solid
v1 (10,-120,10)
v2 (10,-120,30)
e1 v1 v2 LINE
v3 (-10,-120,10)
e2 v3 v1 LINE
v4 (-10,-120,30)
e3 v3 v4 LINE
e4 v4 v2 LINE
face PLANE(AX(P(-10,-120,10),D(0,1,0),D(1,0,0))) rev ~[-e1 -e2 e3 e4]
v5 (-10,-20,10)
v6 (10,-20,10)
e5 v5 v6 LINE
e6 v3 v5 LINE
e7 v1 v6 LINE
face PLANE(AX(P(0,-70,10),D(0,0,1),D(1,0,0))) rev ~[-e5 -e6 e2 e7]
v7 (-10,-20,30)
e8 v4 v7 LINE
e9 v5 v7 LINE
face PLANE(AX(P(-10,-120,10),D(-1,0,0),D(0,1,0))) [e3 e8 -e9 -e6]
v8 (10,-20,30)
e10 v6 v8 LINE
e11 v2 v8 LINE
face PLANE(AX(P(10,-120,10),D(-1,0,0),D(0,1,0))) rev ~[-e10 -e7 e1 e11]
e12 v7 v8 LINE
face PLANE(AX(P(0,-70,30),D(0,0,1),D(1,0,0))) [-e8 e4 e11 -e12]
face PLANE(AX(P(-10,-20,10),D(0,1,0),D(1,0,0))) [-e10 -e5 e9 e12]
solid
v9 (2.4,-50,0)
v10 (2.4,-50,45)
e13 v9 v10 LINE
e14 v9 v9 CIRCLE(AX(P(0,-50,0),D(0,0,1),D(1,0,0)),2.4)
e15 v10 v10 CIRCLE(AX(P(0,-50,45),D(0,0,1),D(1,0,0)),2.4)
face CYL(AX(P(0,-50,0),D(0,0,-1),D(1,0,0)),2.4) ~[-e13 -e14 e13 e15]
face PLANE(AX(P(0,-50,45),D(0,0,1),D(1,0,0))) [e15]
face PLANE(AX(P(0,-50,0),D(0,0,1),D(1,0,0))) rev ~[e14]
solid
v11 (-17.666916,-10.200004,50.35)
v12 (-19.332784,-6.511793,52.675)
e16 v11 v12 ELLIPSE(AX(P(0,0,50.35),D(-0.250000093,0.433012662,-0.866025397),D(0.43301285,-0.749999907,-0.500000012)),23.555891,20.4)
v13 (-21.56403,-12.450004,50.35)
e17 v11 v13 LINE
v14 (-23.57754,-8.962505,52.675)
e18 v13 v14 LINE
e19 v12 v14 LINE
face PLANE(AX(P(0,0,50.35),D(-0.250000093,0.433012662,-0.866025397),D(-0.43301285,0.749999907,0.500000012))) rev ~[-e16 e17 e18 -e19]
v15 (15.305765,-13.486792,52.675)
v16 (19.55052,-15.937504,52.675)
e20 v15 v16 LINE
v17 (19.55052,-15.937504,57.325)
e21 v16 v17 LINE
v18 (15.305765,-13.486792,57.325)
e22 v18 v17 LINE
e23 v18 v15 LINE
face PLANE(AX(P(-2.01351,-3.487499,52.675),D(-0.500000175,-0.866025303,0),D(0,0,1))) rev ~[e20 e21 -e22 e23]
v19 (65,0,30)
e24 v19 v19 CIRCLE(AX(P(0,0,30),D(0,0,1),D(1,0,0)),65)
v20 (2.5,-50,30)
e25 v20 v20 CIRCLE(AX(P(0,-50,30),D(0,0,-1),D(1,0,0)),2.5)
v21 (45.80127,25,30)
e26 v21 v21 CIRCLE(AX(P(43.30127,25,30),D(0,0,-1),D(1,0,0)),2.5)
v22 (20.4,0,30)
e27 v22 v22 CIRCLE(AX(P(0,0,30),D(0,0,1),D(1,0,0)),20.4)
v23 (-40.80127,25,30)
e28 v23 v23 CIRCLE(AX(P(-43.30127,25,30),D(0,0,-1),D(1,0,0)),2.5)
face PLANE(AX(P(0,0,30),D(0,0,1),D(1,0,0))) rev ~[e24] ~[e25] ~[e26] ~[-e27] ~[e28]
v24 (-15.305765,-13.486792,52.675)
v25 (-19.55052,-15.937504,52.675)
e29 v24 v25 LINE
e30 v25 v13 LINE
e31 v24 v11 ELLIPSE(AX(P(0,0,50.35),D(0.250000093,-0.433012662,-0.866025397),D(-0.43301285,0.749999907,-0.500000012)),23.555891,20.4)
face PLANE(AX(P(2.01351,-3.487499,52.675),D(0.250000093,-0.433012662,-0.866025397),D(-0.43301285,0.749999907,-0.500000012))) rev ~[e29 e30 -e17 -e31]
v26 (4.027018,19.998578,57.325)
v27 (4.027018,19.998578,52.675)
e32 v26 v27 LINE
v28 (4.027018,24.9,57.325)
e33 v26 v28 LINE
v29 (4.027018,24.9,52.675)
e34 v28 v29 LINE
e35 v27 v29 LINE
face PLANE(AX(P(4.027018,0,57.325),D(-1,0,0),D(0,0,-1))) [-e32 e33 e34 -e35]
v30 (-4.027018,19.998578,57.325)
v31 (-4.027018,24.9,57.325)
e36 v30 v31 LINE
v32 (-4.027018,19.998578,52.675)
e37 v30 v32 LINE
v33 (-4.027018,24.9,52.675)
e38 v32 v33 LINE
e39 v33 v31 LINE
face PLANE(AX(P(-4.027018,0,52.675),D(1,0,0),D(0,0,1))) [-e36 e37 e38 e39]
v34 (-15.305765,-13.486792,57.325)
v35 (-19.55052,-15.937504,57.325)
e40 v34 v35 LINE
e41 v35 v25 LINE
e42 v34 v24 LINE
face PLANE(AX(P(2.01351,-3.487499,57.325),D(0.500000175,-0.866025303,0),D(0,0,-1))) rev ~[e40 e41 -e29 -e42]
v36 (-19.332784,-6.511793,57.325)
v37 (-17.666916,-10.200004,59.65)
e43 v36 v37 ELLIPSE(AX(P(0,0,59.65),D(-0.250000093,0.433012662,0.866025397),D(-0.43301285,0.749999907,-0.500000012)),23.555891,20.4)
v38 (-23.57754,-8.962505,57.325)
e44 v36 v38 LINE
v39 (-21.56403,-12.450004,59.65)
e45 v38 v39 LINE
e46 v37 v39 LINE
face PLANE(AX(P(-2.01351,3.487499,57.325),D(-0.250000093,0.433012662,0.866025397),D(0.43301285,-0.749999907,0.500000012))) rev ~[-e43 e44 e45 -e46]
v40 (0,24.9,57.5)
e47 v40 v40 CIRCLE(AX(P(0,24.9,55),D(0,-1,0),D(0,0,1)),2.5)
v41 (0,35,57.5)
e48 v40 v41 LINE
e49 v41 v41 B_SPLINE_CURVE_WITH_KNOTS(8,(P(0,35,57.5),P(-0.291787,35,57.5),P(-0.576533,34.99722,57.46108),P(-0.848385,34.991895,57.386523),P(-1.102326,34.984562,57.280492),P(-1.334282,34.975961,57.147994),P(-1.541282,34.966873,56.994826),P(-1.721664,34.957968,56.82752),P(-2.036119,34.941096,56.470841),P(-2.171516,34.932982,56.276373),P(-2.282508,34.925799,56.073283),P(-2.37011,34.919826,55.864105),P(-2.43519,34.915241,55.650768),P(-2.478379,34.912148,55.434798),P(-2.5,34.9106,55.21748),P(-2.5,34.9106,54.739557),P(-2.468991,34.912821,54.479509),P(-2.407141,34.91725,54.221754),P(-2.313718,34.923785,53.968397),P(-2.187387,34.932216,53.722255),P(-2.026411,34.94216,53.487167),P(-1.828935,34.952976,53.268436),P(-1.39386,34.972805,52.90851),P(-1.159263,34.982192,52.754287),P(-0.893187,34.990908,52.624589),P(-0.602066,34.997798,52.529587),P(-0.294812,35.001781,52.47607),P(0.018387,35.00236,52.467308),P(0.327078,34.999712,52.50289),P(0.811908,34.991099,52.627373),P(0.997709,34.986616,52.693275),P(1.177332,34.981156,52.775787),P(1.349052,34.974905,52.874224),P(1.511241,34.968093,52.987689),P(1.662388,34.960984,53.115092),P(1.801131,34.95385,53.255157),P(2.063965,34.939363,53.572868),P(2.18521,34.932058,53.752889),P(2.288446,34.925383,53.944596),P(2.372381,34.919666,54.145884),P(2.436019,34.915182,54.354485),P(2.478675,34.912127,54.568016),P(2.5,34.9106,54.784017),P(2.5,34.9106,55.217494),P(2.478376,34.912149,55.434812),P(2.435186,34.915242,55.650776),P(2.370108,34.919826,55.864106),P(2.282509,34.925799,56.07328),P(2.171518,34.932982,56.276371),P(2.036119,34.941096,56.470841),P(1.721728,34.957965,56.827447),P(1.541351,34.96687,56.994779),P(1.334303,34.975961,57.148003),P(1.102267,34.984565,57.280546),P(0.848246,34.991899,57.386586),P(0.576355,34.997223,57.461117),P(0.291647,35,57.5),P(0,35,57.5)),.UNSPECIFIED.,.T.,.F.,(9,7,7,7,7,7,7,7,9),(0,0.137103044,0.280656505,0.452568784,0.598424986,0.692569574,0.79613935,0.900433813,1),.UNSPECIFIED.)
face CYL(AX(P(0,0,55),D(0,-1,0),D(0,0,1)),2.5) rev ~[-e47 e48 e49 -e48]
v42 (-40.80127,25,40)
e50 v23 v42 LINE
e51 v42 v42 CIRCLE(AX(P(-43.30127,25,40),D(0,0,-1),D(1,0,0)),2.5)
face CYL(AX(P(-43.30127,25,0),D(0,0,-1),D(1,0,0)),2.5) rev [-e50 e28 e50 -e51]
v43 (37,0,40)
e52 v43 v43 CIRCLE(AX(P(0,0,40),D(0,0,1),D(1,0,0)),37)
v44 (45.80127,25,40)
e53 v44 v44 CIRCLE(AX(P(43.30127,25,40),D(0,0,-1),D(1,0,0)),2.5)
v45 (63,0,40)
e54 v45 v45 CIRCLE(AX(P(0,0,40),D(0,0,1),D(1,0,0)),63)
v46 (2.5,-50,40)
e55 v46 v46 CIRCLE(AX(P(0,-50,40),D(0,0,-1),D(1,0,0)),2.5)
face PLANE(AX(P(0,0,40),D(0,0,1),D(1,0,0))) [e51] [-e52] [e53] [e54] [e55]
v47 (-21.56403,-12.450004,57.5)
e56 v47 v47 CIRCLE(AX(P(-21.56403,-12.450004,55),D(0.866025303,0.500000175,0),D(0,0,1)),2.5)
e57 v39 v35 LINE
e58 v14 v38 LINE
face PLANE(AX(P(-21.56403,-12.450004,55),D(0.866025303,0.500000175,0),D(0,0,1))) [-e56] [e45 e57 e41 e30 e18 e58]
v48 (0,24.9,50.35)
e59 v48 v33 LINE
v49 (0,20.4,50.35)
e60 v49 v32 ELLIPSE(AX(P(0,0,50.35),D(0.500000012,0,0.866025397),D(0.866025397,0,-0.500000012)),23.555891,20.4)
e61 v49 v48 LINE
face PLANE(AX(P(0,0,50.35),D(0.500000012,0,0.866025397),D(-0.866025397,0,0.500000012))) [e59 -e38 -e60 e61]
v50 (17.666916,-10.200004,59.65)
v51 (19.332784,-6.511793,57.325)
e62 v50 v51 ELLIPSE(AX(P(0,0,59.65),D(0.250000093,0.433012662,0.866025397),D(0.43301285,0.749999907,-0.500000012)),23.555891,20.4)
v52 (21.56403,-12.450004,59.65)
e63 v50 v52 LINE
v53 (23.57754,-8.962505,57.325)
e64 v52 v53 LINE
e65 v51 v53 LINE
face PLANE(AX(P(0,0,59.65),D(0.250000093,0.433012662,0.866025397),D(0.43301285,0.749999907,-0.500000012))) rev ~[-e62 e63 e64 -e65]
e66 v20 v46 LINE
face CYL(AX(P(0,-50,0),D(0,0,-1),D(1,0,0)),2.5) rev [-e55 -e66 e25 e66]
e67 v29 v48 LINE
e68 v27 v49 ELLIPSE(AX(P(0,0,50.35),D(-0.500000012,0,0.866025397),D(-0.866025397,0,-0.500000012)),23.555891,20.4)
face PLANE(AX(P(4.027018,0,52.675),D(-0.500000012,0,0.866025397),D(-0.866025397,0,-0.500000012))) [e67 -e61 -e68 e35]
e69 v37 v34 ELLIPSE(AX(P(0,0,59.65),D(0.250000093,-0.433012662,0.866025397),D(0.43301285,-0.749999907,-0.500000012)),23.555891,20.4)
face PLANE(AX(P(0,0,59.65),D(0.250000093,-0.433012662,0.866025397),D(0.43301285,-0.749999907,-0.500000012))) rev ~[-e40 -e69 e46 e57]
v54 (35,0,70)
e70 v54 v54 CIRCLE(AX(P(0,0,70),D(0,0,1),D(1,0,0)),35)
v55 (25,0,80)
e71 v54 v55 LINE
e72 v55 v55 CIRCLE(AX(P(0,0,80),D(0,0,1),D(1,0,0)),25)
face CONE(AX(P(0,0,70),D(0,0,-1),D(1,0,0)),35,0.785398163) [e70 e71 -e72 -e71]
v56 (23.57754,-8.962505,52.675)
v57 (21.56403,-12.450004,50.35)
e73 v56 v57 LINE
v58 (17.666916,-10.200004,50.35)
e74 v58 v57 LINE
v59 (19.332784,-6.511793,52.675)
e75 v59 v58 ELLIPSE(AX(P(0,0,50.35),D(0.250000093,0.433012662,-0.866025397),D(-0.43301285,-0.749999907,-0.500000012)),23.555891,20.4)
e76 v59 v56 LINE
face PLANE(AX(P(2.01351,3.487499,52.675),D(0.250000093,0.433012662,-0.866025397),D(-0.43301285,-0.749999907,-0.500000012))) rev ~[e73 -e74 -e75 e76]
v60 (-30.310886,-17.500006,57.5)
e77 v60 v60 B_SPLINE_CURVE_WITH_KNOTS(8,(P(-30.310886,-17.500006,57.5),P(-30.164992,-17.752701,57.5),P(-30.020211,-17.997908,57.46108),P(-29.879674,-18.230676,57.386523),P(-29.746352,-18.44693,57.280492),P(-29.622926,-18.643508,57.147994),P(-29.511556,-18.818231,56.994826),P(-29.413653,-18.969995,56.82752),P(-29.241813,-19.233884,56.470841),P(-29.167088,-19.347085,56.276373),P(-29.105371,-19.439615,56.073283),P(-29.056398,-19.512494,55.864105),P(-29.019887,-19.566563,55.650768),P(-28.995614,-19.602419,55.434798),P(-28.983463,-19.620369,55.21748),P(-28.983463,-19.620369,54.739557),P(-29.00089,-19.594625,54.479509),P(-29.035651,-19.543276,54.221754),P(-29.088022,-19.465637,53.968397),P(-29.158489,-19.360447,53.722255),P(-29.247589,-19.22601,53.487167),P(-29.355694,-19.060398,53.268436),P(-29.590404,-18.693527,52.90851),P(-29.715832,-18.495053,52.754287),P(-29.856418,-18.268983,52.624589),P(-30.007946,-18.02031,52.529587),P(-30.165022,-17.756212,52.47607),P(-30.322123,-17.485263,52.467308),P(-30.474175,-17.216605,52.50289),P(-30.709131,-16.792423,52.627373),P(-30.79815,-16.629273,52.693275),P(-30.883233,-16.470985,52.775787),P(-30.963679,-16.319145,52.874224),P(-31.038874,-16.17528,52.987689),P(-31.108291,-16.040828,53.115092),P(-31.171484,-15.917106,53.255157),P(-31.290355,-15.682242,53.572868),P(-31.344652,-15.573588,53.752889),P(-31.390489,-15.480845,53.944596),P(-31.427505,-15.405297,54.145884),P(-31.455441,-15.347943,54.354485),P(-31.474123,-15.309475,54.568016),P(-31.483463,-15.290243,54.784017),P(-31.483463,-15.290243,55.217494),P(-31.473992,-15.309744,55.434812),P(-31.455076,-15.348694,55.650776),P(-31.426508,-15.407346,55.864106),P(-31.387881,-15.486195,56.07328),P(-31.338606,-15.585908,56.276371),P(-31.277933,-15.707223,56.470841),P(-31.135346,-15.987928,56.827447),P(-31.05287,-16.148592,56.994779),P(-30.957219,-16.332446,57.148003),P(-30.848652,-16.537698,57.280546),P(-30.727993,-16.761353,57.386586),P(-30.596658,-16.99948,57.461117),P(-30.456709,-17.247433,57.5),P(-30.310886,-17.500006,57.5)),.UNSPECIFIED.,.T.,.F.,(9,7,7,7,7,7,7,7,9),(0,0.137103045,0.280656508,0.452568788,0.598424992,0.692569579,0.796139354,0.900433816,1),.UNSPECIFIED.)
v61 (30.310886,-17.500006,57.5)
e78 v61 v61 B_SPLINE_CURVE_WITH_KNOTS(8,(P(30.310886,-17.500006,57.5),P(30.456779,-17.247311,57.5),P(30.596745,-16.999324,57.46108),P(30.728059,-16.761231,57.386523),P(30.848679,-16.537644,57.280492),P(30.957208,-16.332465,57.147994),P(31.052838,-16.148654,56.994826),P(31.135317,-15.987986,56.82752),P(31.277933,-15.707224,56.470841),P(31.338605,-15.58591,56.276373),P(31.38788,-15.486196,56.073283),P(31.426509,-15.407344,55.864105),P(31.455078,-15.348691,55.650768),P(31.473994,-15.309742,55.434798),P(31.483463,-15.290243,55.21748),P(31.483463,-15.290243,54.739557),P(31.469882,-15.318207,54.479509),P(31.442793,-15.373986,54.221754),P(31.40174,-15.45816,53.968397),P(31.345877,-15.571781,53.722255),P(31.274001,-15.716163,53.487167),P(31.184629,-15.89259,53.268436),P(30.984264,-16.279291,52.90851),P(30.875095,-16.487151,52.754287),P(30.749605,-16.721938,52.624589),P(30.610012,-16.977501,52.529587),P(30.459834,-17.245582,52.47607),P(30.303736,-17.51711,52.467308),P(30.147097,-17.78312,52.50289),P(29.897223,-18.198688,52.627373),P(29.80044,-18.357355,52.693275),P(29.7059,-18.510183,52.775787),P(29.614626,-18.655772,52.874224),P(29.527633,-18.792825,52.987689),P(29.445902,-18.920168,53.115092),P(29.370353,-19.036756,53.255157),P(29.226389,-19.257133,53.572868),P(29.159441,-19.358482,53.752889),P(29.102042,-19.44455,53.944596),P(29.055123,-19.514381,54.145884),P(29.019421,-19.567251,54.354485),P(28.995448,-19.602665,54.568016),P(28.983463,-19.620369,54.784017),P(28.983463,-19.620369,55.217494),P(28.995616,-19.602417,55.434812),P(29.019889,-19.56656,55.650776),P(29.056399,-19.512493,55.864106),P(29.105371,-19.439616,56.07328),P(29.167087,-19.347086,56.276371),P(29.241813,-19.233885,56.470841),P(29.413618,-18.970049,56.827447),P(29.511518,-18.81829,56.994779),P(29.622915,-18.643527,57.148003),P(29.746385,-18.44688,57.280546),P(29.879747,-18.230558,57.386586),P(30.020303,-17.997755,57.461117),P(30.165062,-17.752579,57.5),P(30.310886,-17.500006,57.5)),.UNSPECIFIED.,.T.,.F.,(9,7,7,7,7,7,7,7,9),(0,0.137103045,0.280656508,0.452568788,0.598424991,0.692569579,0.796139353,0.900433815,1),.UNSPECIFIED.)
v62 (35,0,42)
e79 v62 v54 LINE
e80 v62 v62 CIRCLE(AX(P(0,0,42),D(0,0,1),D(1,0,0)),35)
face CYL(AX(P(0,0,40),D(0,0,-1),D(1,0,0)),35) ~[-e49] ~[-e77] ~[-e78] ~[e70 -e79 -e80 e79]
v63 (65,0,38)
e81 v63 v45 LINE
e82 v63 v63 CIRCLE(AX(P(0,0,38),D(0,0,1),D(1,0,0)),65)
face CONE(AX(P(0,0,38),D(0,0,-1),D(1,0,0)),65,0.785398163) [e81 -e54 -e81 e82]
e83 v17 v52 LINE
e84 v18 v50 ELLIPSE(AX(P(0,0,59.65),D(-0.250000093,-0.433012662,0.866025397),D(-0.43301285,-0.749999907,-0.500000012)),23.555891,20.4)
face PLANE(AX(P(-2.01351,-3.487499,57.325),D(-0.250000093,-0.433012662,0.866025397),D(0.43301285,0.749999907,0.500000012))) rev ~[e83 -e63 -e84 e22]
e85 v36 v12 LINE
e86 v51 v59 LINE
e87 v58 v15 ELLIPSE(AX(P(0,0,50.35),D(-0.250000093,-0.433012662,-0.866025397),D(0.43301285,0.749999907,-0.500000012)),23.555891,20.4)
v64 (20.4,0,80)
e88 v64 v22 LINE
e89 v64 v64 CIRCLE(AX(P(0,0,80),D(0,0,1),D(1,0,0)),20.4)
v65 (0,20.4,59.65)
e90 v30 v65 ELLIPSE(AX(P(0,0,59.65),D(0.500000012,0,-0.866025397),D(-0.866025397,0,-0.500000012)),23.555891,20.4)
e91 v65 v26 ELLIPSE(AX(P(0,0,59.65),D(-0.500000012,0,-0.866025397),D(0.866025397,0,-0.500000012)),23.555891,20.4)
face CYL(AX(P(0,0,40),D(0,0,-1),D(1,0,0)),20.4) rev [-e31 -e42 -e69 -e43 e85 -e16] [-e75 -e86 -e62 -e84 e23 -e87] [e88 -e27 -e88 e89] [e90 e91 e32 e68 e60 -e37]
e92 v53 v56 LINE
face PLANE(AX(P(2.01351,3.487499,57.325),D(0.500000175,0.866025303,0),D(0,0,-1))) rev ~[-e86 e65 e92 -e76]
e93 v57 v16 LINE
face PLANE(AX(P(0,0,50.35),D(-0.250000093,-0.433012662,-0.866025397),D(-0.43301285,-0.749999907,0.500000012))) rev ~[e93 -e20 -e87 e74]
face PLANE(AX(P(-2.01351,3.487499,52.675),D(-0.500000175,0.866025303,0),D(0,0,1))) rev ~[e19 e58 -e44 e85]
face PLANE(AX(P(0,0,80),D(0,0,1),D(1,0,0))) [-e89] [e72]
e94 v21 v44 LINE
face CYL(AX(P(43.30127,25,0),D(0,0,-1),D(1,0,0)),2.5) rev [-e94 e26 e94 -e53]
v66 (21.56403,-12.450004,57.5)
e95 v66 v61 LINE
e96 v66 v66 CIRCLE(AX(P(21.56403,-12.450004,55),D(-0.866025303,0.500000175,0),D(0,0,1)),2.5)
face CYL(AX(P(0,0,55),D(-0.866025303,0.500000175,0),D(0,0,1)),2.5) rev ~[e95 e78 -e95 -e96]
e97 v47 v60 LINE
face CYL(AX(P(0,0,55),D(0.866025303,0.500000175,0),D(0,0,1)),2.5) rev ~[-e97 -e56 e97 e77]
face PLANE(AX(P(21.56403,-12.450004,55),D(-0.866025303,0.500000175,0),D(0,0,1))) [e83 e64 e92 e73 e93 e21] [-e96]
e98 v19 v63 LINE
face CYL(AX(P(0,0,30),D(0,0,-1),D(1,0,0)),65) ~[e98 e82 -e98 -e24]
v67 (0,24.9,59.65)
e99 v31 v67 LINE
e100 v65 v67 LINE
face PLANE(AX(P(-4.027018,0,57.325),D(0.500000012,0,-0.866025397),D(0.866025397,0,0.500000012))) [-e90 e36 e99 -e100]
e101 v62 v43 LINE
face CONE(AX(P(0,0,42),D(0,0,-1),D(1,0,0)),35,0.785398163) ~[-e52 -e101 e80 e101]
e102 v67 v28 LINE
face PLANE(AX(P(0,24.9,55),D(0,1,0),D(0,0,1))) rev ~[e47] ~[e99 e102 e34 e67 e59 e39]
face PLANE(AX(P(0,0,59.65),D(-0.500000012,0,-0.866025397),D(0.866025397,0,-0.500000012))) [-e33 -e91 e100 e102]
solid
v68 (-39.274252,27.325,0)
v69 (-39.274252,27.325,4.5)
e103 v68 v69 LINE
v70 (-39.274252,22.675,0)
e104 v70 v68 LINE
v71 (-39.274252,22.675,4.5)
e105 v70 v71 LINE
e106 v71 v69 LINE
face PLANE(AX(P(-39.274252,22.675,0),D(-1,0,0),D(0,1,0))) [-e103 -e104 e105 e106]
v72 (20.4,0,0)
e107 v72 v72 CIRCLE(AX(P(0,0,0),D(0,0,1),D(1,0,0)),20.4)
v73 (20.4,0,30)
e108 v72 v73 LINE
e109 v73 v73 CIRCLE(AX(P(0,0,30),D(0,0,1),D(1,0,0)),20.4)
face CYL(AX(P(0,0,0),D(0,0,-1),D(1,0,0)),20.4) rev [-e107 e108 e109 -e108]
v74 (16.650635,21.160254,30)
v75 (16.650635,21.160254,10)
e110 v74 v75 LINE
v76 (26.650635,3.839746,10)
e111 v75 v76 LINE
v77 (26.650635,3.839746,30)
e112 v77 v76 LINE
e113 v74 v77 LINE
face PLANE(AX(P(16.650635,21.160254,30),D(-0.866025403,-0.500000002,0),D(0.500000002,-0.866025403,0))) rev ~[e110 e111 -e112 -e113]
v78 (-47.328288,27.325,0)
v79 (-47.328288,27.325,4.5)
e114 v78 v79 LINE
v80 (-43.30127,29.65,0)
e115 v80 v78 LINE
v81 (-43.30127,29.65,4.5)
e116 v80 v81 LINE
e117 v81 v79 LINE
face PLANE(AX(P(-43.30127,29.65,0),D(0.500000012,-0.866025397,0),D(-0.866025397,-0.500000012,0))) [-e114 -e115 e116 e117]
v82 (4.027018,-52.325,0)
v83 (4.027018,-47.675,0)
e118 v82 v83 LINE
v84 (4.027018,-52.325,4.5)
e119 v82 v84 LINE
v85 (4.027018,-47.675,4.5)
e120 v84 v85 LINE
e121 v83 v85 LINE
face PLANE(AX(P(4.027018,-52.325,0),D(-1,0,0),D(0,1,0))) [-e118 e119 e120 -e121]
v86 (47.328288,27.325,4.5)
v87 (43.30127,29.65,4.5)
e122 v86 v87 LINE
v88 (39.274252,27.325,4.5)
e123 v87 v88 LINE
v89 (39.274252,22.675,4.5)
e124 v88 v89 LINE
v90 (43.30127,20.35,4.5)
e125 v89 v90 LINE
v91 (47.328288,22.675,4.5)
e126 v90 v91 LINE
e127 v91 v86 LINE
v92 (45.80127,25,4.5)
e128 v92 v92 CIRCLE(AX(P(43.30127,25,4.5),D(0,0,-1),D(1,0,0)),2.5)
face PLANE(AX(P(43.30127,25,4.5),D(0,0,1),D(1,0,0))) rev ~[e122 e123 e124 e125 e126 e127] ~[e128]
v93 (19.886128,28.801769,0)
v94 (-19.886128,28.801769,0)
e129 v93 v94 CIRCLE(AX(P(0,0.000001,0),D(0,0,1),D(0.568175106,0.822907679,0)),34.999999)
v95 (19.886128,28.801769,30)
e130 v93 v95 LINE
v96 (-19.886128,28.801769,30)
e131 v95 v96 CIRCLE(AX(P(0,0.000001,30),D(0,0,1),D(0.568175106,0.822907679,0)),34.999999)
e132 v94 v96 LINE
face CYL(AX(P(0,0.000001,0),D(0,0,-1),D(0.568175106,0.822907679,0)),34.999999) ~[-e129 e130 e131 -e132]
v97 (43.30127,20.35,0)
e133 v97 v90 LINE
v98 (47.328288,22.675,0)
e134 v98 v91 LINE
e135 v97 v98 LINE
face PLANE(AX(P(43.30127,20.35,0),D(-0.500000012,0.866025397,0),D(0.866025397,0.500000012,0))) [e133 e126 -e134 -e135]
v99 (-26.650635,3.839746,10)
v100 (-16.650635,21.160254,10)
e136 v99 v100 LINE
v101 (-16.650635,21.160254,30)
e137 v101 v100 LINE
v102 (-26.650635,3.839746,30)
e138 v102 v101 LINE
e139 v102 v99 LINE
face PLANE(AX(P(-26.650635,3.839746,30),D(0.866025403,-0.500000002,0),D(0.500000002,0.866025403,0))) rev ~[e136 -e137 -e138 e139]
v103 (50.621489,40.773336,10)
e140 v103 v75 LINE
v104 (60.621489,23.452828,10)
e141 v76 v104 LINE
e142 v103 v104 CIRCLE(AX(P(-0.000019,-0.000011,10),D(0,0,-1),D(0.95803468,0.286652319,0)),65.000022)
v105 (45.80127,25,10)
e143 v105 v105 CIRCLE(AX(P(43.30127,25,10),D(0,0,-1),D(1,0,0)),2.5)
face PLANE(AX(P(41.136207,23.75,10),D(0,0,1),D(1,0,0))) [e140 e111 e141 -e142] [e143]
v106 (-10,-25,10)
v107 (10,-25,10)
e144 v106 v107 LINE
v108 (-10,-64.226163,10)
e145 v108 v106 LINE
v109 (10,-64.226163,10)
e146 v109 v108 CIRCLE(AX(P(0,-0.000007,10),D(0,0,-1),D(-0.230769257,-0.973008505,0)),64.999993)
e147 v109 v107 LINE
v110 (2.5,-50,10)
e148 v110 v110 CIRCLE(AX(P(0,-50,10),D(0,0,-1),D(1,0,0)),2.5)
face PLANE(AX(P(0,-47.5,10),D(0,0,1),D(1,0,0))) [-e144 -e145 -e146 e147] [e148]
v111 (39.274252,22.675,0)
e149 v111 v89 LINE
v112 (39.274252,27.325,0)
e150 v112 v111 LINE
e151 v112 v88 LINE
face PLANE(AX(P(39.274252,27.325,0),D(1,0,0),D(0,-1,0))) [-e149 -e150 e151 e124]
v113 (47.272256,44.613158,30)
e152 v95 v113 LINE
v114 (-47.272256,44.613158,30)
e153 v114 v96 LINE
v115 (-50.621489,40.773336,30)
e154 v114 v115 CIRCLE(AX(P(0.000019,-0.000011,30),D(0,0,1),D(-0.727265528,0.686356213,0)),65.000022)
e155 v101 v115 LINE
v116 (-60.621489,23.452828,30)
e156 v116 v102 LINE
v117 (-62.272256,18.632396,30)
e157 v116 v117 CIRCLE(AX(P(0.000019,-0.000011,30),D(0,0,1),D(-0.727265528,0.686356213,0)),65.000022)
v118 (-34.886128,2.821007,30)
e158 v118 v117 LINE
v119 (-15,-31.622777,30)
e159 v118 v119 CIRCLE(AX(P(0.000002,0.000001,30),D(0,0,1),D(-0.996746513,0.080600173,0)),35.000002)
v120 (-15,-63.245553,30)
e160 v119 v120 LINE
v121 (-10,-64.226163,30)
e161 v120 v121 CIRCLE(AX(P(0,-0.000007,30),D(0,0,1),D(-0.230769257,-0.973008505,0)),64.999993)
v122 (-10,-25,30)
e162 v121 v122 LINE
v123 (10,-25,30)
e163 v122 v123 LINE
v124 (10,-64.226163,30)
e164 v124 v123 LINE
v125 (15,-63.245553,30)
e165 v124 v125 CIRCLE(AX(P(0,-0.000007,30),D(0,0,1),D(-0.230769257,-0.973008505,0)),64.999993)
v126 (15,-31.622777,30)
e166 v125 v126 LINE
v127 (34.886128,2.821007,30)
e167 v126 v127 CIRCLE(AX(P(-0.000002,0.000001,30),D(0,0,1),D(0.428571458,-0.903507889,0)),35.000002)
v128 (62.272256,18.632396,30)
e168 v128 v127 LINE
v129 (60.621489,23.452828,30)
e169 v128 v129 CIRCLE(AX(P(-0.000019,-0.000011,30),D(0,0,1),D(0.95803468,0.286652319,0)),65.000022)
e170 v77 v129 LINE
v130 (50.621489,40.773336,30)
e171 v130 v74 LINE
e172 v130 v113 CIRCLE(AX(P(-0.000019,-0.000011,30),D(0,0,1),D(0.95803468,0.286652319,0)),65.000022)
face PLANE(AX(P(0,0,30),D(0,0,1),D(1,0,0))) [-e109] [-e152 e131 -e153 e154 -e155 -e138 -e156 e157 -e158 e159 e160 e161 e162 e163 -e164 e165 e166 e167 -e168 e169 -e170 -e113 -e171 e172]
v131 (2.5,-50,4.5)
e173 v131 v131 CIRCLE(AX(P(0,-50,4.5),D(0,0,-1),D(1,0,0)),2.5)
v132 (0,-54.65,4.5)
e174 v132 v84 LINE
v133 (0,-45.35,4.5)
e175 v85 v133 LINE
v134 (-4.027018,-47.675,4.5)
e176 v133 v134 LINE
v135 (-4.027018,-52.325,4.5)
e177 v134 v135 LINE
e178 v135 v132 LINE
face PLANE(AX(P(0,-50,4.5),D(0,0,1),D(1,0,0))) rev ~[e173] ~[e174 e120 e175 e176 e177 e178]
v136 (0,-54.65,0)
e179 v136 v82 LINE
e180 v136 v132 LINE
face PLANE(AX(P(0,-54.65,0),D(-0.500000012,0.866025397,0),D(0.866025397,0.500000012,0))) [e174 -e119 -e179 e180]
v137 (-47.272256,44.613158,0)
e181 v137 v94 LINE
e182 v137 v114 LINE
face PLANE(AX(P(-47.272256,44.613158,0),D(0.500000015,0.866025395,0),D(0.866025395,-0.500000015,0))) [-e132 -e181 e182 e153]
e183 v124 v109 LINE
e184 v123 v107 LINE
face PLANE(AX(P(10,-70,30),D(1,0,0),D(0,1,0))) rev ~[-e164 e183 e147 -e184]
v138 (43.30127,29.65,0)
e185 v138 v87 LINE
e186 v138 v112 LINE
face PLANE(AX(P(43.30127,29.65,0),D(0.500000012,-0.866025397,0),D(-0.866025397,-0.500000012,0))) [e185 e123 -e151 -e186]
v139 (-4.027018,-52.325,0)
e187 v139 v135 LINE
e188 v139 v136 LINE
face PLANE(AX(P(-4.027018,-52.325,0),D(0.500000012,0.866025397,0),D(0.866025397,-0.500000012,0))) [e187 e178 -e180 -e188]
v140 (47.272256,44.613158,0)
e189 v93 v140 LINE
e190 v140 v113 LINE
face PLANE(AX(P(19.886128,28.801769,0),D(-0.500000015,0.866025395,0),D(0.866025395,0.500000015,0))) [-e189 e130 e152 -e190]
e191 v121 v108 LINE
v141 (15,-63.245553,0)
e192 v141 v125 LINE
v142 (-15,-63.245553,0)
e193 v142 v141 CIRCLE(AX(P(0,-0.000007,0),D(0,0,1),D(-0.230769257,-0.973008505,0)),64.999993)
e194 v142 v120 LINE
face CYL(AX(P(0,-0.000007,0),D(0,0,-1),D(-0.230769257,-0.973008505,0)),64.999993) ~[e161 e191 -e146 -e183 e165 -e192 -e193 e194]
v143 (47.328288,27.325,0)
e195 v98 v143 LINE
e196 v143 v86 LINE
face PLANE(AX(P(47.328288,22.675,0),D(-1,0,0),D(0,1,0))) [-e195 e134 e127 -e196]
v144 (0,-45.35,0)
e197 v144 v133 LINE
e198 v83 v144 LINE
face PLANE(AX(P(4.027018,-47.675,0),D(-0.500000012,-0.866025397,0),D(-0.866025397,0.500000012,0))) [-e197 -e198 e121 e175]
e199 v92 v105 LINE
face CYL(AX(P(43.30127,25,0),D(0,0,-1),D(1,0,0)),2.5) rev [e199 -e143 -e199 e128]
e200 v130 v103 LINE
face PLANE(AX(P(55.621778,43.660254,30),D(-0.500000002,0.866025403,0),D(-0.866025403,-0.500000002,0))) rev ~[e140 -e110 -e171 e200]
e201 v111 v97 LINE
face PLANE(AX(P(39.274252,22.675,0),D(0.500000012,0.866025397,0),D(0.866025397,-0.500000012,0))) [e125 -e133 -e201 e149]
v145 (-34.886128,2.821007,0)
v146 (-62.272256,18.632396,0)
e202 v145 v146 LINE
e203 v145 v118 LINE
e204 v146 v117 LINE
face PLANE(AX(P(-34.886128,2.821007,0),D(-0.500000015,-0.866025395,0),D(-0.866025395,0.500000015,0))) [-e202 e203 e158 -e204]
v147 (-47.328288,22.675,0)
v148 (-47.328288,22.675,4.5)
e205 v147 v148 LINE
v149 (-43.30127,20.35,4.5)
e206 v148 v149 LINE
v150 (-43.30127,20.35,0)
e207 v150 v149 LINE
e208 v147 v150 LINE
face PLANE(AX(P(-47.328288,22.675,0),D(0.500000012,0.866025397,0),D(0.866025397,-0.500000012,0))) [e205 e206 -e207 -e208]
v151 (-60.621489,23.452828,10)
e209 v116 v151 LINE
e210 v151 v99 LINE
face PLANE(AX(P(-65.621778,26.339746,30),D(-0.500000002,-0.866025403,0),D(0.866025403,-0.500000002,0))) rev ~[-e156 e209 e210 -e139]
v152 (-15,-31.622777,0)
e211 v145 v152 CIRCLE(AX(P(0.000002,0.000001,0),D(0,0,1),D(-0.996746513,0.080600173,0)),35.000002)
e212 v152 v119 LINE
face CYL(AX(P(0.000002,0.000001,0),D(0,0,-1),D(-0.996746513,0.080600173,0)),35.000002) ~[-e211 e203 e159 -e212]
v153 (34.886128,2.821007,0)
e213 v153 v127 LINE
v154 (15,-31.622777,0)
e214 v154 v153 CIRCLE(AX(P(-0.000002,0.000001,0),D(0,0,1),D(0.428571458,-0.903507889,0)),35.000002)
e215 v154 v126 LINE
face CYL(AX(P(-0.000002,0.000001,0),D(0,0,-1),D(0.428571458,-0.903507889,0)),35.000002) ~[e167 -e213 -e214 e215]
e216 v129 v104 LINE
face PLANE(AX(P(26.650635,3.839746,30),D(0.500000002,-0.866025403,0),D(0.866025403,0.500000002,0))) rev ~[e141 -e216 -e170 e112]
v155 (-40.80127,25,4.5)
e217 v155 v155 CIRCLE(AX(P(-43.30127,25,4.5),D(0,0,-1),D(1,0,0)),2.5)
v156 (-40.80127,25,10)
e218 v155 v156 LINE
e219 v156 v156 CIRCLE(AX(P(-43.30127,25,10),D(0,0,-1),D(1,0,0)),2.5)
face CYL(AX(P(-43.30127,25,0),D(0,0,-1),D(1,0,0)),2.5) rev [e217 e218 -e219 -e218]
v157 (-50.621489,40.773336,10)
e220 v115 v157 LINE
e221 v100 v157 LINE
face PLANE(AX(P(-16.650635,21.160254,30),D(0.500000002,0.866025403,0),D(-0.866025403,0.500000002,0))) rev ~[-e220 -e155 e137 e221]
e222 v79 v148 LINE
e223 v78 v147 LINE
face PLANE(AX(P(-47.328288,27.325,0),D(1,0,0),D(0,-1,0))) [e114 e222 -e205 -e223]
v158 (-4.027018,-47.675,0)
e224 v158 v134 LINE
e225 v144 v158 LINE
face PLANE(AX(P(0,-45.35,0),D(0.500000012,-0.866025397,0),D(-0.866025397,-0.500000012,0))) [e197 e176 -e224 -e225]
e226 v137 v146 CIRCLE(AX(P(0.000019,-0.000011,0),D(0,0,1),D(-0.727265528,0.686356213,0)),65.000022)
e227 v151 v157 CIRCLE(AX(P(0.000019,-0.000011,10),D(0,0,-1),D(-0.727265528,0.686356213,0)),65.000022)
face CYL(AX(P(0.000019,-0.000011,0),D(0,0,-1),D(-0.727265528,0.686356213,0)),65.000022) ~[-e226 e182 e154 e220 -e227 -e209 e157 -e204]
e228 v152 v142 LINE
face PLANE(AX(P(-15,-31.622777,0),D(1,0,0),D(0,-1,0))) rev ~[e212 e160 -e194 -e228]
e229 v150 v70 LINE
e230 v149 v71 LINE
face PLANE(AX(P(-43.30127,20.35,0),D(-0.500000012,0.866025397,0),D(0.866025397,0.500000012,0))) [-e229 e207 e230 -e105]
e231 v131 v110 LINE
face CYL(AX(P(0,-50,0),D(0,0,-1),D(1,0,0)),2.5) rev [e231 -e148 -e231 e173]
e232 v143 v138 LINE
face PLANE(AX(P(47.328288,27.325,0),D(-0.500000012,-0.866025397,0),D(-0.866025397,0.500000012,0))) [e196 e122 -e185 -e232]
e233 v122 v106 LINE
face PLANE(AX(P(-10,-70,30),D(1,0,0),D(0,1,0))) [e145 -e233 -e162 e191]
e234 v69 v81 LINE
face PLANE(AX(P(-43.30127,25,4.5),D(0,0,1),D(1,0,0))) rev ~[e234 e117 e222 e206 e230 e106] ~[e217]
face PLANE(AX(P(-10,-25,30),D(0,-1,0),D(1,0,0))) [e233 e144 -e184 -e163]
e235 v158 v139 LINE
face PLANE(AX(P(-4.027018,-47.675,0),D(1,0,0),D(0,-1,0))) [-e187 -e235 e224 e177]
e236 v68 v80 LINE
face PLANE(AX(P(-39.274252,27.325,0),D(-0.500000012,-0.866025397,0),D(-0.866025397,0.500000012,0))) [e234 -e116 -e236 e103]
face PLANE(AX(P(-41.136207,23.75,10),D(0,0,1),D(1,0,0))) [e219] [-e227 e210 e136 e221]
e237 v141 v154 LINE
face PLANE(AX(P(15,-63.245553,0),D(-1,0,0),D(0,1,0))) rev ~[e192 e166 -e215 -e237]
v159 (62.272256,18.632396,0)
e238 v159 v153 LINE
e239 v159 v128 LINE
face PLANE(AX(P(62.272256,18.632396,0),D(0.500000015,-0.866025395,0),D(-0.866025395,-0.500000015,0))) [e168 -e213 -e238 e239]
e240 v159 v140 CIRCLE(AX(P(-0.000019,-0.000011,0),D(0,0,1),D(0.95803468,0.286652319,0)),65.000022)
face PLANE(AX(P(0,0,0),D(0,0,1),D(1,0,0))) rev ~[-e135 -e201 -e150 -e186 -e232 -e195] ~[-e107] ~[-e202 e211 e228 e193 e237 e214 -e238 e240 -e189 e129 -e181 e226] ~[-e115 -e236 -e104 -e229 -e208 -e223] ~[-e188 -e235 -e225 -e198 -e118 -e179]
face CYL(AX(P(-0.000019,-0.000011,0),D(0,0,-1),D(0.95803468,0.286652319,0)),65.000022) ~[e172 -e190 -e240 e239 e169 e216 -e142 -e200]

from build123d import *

# Parameters (mm, degrees)
SKETCH_R        = 20.4
PAD_DEPTH       = 30
SKETCH012_W     = 20
SKETCH012_H     = 45
POCKET010_DEPTH = 20
SKETCH010_R     = 2.5
POCKET008_DEPTH = 30.001
POCKET009_DEPTH = 4.5
SKETCH004_R     = 65
SKETCH004_R_2   = 20.4
PAD001_DEPTH    = 10
SKETCH002_R     = 35
SKETCH002_R_2   = 20.4
PAD002_DEPTH    = 40
CHAMFER_SIZE    = 2
CHAMFER001_SIZE = 10
COPYSKETCH006_R = 2.5
POCKET001_DEPTH = 88.792651
COPYSKETCH007_R = 2.5
POCKET002_DEPTH = 88.792651
COPYSKETCH008_R = 2.5
POCKET003_DEPTH = 65.001
POCKET004_DEPTH = 24.9
POCKET005_DEPTH = 24.9
POCKET006_DEPTH = 24.9
SKETCH009_R     = 2.5
POCKET007_DEPTH = 80.001
BOX_W           = 20
BOX_H           = 100
BOX_DEPTH       = 20
CYLINDER_R      = 2.4
CYLINDER_DEPTH  = 45


with BuildPart() as bottombody:
    # Sketch → Pad (new body)
    with BuildSketch(Plane.XY):
        with BuildLine():
            ThreePointArc((15, -31.622777), (30.310889, -17.5), (34.886128, 2.821007))
            Line((62.272256, 18.632396), (34.886128, 2.821007))
            ThreePointArc((62.272256, 18.632396), (56.291651, 32.5), (47.272256, 44.613158))
            Line((19.886128, 28.801769), (47.272256, 44.613158))
            ThreePointArc((19.886128, 28.801769), (0, 35), (-19.886128, 28.801769))
            Line((-47.272256, 44.613158), (-19.886128, 28.801769))
            ThreePointArc((-47.272256, 44.613158), (-56.291651, 32.5), (-62.272256, 18.632396))
            Line((-34.886128, 2.821007), (-62.272256, 18.632396))
            ThreePointArc((-34.886128, 2.821007), (-30.310889, -17.5), (-15, -31.622777))
            Line((-15, -31.622777), (-15, -63.245553))
            ThreePointArc((-15, -63.245553), (0, -65), (15, -63.245553))
            Line((15, -63.245553), (15, -31.622777))
        make_face()
        Circle(SKETCH_R, mode=Mode.SUBTRACT)
    extrude(amount=PAD_DEPTH)

    # Sketch012 (on Face15 of Pad) → Pocket010 (cut)
    with BuildSketch(Plane.XY.offset(30)):
        with Locations((0, -47.5)):
            Rectangle(SKETCH012_W, SKETCH012_H)
        Polygon((26.650635, 3.839746), (65.621778, 26.339746), (55.621778, 43.660254), (16.650635, 21.160254), align=None)
        Polygon((-16.650635, 21.160254), (-55.621778, 43.660254), (-65.621778, 26.339746), (-26.650635, 3.839746), align=None)
    extrude(amount=-POCKET010_DEPTH, mode=Mode.SUBTRACT)

    # Sketch010 → Pocket008 (cut, through all)
    with BuildSketch(Plane.XY):
        with Locations((0, -50)):
            Circle(SKETCH010_R)
        with Locations((-43.30127, 25)):
            Circle(SKETCH010_R)
        with Locations((43.30127, 25)):
            Circle(SKETCH010_R)
    extrude(amount=POCKET008_DEPTH, mode=Mode.SUBTRACT)

    # Sketch011 → Pocket009 (cut)
    with BuildSketch(Plane.XY):
        Polygon((0, -45.35), (-4.027018, -47.675), (-4.027018, -52.325), (0, -54.65), (4.027018, -52.325), (4.027018, -47.675), align=None)
        Polygon((-39.274252, 22.675), (-39.274252, 27.325), (-43.30127, 29.65), (-47.328288, 27.325), (-47.328288, 22.675), (-43.30127, 20.35), align=None)
        Polygon((39.274252, 22.675), (43.30127, 20.35), (47.328288, 22.675), (47.328288, 27.325), (43.30127, 29.65), (39.274252, 27.325), align=None)
    extrude(amount=POCKET009_DEPTH, mode=Mode.SUBTRACT)


with BuildPart() as topbody:
    # Sketch004 → Pad001 (new body)
    with BuildSketch(Plane.XY.offset(30)):
        Circle(SKETCH004_R)
        Circle(SKETCH004_R_2, mode=Mode.SUBTRACT)
    extrude(amount=PAD001_DEPTH)

    # Sketch002 (on Face4 of Pad001) → Pad002 (join)
    with BuildSketch(Plane.XY.offset(40)):
        Circle(SKETCH002_R)
        Circle(SKETCH002_R_2, mode=Mode.SUBTRACT)
    extrude(amount=PAD002_DEPTH)

    # Chamfer
    chamfer_edges = [topbody.edges().sort_by_distance(p)[0] for p in [
        (-65, 0, 40),
        (-35, 0, 40),
    ]]
    chamfer(chamfer_edges, length=CHAMFER_SIZE)

    # Chamfer001
    chamfer001_edges = [topbody.edges().sort_by_distance(p)[0] for p in [
        (-35, 0, 80),
    ]]
    chamfer(chamfer001_edges, length=CHAMFER001_SIZE)

    # CopySketch006 (on Z_Axis) → Pocket001 (cut, through all)
    with BuildSketch(Plane(origin=(0, 0, 55), x_dir=(0, 0, 1), z_dir=(0.866025, 0.5, 0))):
        Circle(COPYSKETCH006_R)
    extrude(amount=-POCKET001_DEPTH, mode=Mode.SUBTRACT)

    # CopySketch007 (on Z_Axis) → Pocket002 (cut, through all)
    with BuildSketch(Plane(origin=(0, 0, 55), x_dir=(0, 0, 1), z_dir=(-0.866025, 0.5, 0))):
        Circle(COPYSKETCH007_R)
    extrude(amount=-POCKET002_DEPTH, mode=Mode.SUBTRACT)

    # CopySketch008 (on Z_Axis) → Pocket003 (cut, through all)
    with BuildSketch(Plane(origin=(0, 0, 55), x_dir=(0, 0, 1), z_dir=(0, -1, 0))):
        Circle(COPYSKETCH008_R)
    extrude(amount=-POCKET003_DEPTH, mode=Mode.SUBTRACT)

    # Sketch006 (on Z_Axis) → Pocket004 (cut)
    with BuildSketch(Plane(origin=(0, 0, 55), x_dir=(0, 0, 1), z_dir=(0, 1, 0))):
        Polygon((4.65, 0), (2.325, 4.027018), (-2.325, 4.027018), (-4.65, 0), (-2.325, -4.027018), (2.325, -4.027018), align=None)
    extrude(amount=POCKET004_DEPTH, mode=Mode.SUBTRACT)

    # Sketch007 (on Z_Axis) → Pocket005 (cut)
    with BuildSketch(Plane(origin=(0, 0, 55), x_dir=(0, 0, 1), z_dir=(-0.866025, 0.5, 0))):
        Polygon((4.65, 0), (2.325, 4.027018), (-2.325, 4.027018), (-4.65, 0), (-2.325, -4.027018), (2.325, -4.027018), align=None)
    extrude(amount=-POCKET005_DEPTH, mode=Mode.SUBTRACT)

    # Sketch008 (on Z_Axis) → Pocket006 (cut)
    with BuildSketch(Plane(origin=(0, 0, 55), x_dir=(0, 0, 1), z_dir=(0.866025, 0.5, 0))):
        Polygon((4.65, 0), (2.325, 4.027018), (-2.325, 4.027018), (-4.65, 0), (-2.325, -4.027018), (2.325, -4.027018), align=None)
    extrude(amount=-POCKET006_DEPTH, mode=Mode.SUBTRACT)

    # Sketch009 → Pocket007 (cut, through all)
    with BuildSketch(Plane.XY):
        with Locations((0, -50)):
            Circle(SKETCH009_R)
        with Locations((-43.30127, 25)):
            Circle(SKETCH009_R)
        with Locations((43.30127, 25)):
            Circle(SKETCH009_R)
    extrude(amount=POCKET007_DEPTH, mode=Mode.SUBTRACT)


with BuildPart() as profile:
    # Box → Box (new body)
    with BuildSketch(Plane(origin=(-10, -120, 10), x_dir=(1, 0, 0), z_dir=(0, 0, 1))):
        with Locations((10, 50)):
            Rectangle(BOX_W, BOX_H)
    extrude(amount=BOX_DEPTH)


with BuildPart() as skrew:
    # Cylinder → Cylinder (new body)
    with BuildSketch(Plane(origin=(0, -50, 0), x_dir=(1, 0, 0), z_dir=(0, 0, 1))):
        Circle(CYLINDER_R)
    extrude(amount=CYLINDER_DEPTH)


solid = Compound([bottombody.part, topbody.part, profile.part, skrew.part])
